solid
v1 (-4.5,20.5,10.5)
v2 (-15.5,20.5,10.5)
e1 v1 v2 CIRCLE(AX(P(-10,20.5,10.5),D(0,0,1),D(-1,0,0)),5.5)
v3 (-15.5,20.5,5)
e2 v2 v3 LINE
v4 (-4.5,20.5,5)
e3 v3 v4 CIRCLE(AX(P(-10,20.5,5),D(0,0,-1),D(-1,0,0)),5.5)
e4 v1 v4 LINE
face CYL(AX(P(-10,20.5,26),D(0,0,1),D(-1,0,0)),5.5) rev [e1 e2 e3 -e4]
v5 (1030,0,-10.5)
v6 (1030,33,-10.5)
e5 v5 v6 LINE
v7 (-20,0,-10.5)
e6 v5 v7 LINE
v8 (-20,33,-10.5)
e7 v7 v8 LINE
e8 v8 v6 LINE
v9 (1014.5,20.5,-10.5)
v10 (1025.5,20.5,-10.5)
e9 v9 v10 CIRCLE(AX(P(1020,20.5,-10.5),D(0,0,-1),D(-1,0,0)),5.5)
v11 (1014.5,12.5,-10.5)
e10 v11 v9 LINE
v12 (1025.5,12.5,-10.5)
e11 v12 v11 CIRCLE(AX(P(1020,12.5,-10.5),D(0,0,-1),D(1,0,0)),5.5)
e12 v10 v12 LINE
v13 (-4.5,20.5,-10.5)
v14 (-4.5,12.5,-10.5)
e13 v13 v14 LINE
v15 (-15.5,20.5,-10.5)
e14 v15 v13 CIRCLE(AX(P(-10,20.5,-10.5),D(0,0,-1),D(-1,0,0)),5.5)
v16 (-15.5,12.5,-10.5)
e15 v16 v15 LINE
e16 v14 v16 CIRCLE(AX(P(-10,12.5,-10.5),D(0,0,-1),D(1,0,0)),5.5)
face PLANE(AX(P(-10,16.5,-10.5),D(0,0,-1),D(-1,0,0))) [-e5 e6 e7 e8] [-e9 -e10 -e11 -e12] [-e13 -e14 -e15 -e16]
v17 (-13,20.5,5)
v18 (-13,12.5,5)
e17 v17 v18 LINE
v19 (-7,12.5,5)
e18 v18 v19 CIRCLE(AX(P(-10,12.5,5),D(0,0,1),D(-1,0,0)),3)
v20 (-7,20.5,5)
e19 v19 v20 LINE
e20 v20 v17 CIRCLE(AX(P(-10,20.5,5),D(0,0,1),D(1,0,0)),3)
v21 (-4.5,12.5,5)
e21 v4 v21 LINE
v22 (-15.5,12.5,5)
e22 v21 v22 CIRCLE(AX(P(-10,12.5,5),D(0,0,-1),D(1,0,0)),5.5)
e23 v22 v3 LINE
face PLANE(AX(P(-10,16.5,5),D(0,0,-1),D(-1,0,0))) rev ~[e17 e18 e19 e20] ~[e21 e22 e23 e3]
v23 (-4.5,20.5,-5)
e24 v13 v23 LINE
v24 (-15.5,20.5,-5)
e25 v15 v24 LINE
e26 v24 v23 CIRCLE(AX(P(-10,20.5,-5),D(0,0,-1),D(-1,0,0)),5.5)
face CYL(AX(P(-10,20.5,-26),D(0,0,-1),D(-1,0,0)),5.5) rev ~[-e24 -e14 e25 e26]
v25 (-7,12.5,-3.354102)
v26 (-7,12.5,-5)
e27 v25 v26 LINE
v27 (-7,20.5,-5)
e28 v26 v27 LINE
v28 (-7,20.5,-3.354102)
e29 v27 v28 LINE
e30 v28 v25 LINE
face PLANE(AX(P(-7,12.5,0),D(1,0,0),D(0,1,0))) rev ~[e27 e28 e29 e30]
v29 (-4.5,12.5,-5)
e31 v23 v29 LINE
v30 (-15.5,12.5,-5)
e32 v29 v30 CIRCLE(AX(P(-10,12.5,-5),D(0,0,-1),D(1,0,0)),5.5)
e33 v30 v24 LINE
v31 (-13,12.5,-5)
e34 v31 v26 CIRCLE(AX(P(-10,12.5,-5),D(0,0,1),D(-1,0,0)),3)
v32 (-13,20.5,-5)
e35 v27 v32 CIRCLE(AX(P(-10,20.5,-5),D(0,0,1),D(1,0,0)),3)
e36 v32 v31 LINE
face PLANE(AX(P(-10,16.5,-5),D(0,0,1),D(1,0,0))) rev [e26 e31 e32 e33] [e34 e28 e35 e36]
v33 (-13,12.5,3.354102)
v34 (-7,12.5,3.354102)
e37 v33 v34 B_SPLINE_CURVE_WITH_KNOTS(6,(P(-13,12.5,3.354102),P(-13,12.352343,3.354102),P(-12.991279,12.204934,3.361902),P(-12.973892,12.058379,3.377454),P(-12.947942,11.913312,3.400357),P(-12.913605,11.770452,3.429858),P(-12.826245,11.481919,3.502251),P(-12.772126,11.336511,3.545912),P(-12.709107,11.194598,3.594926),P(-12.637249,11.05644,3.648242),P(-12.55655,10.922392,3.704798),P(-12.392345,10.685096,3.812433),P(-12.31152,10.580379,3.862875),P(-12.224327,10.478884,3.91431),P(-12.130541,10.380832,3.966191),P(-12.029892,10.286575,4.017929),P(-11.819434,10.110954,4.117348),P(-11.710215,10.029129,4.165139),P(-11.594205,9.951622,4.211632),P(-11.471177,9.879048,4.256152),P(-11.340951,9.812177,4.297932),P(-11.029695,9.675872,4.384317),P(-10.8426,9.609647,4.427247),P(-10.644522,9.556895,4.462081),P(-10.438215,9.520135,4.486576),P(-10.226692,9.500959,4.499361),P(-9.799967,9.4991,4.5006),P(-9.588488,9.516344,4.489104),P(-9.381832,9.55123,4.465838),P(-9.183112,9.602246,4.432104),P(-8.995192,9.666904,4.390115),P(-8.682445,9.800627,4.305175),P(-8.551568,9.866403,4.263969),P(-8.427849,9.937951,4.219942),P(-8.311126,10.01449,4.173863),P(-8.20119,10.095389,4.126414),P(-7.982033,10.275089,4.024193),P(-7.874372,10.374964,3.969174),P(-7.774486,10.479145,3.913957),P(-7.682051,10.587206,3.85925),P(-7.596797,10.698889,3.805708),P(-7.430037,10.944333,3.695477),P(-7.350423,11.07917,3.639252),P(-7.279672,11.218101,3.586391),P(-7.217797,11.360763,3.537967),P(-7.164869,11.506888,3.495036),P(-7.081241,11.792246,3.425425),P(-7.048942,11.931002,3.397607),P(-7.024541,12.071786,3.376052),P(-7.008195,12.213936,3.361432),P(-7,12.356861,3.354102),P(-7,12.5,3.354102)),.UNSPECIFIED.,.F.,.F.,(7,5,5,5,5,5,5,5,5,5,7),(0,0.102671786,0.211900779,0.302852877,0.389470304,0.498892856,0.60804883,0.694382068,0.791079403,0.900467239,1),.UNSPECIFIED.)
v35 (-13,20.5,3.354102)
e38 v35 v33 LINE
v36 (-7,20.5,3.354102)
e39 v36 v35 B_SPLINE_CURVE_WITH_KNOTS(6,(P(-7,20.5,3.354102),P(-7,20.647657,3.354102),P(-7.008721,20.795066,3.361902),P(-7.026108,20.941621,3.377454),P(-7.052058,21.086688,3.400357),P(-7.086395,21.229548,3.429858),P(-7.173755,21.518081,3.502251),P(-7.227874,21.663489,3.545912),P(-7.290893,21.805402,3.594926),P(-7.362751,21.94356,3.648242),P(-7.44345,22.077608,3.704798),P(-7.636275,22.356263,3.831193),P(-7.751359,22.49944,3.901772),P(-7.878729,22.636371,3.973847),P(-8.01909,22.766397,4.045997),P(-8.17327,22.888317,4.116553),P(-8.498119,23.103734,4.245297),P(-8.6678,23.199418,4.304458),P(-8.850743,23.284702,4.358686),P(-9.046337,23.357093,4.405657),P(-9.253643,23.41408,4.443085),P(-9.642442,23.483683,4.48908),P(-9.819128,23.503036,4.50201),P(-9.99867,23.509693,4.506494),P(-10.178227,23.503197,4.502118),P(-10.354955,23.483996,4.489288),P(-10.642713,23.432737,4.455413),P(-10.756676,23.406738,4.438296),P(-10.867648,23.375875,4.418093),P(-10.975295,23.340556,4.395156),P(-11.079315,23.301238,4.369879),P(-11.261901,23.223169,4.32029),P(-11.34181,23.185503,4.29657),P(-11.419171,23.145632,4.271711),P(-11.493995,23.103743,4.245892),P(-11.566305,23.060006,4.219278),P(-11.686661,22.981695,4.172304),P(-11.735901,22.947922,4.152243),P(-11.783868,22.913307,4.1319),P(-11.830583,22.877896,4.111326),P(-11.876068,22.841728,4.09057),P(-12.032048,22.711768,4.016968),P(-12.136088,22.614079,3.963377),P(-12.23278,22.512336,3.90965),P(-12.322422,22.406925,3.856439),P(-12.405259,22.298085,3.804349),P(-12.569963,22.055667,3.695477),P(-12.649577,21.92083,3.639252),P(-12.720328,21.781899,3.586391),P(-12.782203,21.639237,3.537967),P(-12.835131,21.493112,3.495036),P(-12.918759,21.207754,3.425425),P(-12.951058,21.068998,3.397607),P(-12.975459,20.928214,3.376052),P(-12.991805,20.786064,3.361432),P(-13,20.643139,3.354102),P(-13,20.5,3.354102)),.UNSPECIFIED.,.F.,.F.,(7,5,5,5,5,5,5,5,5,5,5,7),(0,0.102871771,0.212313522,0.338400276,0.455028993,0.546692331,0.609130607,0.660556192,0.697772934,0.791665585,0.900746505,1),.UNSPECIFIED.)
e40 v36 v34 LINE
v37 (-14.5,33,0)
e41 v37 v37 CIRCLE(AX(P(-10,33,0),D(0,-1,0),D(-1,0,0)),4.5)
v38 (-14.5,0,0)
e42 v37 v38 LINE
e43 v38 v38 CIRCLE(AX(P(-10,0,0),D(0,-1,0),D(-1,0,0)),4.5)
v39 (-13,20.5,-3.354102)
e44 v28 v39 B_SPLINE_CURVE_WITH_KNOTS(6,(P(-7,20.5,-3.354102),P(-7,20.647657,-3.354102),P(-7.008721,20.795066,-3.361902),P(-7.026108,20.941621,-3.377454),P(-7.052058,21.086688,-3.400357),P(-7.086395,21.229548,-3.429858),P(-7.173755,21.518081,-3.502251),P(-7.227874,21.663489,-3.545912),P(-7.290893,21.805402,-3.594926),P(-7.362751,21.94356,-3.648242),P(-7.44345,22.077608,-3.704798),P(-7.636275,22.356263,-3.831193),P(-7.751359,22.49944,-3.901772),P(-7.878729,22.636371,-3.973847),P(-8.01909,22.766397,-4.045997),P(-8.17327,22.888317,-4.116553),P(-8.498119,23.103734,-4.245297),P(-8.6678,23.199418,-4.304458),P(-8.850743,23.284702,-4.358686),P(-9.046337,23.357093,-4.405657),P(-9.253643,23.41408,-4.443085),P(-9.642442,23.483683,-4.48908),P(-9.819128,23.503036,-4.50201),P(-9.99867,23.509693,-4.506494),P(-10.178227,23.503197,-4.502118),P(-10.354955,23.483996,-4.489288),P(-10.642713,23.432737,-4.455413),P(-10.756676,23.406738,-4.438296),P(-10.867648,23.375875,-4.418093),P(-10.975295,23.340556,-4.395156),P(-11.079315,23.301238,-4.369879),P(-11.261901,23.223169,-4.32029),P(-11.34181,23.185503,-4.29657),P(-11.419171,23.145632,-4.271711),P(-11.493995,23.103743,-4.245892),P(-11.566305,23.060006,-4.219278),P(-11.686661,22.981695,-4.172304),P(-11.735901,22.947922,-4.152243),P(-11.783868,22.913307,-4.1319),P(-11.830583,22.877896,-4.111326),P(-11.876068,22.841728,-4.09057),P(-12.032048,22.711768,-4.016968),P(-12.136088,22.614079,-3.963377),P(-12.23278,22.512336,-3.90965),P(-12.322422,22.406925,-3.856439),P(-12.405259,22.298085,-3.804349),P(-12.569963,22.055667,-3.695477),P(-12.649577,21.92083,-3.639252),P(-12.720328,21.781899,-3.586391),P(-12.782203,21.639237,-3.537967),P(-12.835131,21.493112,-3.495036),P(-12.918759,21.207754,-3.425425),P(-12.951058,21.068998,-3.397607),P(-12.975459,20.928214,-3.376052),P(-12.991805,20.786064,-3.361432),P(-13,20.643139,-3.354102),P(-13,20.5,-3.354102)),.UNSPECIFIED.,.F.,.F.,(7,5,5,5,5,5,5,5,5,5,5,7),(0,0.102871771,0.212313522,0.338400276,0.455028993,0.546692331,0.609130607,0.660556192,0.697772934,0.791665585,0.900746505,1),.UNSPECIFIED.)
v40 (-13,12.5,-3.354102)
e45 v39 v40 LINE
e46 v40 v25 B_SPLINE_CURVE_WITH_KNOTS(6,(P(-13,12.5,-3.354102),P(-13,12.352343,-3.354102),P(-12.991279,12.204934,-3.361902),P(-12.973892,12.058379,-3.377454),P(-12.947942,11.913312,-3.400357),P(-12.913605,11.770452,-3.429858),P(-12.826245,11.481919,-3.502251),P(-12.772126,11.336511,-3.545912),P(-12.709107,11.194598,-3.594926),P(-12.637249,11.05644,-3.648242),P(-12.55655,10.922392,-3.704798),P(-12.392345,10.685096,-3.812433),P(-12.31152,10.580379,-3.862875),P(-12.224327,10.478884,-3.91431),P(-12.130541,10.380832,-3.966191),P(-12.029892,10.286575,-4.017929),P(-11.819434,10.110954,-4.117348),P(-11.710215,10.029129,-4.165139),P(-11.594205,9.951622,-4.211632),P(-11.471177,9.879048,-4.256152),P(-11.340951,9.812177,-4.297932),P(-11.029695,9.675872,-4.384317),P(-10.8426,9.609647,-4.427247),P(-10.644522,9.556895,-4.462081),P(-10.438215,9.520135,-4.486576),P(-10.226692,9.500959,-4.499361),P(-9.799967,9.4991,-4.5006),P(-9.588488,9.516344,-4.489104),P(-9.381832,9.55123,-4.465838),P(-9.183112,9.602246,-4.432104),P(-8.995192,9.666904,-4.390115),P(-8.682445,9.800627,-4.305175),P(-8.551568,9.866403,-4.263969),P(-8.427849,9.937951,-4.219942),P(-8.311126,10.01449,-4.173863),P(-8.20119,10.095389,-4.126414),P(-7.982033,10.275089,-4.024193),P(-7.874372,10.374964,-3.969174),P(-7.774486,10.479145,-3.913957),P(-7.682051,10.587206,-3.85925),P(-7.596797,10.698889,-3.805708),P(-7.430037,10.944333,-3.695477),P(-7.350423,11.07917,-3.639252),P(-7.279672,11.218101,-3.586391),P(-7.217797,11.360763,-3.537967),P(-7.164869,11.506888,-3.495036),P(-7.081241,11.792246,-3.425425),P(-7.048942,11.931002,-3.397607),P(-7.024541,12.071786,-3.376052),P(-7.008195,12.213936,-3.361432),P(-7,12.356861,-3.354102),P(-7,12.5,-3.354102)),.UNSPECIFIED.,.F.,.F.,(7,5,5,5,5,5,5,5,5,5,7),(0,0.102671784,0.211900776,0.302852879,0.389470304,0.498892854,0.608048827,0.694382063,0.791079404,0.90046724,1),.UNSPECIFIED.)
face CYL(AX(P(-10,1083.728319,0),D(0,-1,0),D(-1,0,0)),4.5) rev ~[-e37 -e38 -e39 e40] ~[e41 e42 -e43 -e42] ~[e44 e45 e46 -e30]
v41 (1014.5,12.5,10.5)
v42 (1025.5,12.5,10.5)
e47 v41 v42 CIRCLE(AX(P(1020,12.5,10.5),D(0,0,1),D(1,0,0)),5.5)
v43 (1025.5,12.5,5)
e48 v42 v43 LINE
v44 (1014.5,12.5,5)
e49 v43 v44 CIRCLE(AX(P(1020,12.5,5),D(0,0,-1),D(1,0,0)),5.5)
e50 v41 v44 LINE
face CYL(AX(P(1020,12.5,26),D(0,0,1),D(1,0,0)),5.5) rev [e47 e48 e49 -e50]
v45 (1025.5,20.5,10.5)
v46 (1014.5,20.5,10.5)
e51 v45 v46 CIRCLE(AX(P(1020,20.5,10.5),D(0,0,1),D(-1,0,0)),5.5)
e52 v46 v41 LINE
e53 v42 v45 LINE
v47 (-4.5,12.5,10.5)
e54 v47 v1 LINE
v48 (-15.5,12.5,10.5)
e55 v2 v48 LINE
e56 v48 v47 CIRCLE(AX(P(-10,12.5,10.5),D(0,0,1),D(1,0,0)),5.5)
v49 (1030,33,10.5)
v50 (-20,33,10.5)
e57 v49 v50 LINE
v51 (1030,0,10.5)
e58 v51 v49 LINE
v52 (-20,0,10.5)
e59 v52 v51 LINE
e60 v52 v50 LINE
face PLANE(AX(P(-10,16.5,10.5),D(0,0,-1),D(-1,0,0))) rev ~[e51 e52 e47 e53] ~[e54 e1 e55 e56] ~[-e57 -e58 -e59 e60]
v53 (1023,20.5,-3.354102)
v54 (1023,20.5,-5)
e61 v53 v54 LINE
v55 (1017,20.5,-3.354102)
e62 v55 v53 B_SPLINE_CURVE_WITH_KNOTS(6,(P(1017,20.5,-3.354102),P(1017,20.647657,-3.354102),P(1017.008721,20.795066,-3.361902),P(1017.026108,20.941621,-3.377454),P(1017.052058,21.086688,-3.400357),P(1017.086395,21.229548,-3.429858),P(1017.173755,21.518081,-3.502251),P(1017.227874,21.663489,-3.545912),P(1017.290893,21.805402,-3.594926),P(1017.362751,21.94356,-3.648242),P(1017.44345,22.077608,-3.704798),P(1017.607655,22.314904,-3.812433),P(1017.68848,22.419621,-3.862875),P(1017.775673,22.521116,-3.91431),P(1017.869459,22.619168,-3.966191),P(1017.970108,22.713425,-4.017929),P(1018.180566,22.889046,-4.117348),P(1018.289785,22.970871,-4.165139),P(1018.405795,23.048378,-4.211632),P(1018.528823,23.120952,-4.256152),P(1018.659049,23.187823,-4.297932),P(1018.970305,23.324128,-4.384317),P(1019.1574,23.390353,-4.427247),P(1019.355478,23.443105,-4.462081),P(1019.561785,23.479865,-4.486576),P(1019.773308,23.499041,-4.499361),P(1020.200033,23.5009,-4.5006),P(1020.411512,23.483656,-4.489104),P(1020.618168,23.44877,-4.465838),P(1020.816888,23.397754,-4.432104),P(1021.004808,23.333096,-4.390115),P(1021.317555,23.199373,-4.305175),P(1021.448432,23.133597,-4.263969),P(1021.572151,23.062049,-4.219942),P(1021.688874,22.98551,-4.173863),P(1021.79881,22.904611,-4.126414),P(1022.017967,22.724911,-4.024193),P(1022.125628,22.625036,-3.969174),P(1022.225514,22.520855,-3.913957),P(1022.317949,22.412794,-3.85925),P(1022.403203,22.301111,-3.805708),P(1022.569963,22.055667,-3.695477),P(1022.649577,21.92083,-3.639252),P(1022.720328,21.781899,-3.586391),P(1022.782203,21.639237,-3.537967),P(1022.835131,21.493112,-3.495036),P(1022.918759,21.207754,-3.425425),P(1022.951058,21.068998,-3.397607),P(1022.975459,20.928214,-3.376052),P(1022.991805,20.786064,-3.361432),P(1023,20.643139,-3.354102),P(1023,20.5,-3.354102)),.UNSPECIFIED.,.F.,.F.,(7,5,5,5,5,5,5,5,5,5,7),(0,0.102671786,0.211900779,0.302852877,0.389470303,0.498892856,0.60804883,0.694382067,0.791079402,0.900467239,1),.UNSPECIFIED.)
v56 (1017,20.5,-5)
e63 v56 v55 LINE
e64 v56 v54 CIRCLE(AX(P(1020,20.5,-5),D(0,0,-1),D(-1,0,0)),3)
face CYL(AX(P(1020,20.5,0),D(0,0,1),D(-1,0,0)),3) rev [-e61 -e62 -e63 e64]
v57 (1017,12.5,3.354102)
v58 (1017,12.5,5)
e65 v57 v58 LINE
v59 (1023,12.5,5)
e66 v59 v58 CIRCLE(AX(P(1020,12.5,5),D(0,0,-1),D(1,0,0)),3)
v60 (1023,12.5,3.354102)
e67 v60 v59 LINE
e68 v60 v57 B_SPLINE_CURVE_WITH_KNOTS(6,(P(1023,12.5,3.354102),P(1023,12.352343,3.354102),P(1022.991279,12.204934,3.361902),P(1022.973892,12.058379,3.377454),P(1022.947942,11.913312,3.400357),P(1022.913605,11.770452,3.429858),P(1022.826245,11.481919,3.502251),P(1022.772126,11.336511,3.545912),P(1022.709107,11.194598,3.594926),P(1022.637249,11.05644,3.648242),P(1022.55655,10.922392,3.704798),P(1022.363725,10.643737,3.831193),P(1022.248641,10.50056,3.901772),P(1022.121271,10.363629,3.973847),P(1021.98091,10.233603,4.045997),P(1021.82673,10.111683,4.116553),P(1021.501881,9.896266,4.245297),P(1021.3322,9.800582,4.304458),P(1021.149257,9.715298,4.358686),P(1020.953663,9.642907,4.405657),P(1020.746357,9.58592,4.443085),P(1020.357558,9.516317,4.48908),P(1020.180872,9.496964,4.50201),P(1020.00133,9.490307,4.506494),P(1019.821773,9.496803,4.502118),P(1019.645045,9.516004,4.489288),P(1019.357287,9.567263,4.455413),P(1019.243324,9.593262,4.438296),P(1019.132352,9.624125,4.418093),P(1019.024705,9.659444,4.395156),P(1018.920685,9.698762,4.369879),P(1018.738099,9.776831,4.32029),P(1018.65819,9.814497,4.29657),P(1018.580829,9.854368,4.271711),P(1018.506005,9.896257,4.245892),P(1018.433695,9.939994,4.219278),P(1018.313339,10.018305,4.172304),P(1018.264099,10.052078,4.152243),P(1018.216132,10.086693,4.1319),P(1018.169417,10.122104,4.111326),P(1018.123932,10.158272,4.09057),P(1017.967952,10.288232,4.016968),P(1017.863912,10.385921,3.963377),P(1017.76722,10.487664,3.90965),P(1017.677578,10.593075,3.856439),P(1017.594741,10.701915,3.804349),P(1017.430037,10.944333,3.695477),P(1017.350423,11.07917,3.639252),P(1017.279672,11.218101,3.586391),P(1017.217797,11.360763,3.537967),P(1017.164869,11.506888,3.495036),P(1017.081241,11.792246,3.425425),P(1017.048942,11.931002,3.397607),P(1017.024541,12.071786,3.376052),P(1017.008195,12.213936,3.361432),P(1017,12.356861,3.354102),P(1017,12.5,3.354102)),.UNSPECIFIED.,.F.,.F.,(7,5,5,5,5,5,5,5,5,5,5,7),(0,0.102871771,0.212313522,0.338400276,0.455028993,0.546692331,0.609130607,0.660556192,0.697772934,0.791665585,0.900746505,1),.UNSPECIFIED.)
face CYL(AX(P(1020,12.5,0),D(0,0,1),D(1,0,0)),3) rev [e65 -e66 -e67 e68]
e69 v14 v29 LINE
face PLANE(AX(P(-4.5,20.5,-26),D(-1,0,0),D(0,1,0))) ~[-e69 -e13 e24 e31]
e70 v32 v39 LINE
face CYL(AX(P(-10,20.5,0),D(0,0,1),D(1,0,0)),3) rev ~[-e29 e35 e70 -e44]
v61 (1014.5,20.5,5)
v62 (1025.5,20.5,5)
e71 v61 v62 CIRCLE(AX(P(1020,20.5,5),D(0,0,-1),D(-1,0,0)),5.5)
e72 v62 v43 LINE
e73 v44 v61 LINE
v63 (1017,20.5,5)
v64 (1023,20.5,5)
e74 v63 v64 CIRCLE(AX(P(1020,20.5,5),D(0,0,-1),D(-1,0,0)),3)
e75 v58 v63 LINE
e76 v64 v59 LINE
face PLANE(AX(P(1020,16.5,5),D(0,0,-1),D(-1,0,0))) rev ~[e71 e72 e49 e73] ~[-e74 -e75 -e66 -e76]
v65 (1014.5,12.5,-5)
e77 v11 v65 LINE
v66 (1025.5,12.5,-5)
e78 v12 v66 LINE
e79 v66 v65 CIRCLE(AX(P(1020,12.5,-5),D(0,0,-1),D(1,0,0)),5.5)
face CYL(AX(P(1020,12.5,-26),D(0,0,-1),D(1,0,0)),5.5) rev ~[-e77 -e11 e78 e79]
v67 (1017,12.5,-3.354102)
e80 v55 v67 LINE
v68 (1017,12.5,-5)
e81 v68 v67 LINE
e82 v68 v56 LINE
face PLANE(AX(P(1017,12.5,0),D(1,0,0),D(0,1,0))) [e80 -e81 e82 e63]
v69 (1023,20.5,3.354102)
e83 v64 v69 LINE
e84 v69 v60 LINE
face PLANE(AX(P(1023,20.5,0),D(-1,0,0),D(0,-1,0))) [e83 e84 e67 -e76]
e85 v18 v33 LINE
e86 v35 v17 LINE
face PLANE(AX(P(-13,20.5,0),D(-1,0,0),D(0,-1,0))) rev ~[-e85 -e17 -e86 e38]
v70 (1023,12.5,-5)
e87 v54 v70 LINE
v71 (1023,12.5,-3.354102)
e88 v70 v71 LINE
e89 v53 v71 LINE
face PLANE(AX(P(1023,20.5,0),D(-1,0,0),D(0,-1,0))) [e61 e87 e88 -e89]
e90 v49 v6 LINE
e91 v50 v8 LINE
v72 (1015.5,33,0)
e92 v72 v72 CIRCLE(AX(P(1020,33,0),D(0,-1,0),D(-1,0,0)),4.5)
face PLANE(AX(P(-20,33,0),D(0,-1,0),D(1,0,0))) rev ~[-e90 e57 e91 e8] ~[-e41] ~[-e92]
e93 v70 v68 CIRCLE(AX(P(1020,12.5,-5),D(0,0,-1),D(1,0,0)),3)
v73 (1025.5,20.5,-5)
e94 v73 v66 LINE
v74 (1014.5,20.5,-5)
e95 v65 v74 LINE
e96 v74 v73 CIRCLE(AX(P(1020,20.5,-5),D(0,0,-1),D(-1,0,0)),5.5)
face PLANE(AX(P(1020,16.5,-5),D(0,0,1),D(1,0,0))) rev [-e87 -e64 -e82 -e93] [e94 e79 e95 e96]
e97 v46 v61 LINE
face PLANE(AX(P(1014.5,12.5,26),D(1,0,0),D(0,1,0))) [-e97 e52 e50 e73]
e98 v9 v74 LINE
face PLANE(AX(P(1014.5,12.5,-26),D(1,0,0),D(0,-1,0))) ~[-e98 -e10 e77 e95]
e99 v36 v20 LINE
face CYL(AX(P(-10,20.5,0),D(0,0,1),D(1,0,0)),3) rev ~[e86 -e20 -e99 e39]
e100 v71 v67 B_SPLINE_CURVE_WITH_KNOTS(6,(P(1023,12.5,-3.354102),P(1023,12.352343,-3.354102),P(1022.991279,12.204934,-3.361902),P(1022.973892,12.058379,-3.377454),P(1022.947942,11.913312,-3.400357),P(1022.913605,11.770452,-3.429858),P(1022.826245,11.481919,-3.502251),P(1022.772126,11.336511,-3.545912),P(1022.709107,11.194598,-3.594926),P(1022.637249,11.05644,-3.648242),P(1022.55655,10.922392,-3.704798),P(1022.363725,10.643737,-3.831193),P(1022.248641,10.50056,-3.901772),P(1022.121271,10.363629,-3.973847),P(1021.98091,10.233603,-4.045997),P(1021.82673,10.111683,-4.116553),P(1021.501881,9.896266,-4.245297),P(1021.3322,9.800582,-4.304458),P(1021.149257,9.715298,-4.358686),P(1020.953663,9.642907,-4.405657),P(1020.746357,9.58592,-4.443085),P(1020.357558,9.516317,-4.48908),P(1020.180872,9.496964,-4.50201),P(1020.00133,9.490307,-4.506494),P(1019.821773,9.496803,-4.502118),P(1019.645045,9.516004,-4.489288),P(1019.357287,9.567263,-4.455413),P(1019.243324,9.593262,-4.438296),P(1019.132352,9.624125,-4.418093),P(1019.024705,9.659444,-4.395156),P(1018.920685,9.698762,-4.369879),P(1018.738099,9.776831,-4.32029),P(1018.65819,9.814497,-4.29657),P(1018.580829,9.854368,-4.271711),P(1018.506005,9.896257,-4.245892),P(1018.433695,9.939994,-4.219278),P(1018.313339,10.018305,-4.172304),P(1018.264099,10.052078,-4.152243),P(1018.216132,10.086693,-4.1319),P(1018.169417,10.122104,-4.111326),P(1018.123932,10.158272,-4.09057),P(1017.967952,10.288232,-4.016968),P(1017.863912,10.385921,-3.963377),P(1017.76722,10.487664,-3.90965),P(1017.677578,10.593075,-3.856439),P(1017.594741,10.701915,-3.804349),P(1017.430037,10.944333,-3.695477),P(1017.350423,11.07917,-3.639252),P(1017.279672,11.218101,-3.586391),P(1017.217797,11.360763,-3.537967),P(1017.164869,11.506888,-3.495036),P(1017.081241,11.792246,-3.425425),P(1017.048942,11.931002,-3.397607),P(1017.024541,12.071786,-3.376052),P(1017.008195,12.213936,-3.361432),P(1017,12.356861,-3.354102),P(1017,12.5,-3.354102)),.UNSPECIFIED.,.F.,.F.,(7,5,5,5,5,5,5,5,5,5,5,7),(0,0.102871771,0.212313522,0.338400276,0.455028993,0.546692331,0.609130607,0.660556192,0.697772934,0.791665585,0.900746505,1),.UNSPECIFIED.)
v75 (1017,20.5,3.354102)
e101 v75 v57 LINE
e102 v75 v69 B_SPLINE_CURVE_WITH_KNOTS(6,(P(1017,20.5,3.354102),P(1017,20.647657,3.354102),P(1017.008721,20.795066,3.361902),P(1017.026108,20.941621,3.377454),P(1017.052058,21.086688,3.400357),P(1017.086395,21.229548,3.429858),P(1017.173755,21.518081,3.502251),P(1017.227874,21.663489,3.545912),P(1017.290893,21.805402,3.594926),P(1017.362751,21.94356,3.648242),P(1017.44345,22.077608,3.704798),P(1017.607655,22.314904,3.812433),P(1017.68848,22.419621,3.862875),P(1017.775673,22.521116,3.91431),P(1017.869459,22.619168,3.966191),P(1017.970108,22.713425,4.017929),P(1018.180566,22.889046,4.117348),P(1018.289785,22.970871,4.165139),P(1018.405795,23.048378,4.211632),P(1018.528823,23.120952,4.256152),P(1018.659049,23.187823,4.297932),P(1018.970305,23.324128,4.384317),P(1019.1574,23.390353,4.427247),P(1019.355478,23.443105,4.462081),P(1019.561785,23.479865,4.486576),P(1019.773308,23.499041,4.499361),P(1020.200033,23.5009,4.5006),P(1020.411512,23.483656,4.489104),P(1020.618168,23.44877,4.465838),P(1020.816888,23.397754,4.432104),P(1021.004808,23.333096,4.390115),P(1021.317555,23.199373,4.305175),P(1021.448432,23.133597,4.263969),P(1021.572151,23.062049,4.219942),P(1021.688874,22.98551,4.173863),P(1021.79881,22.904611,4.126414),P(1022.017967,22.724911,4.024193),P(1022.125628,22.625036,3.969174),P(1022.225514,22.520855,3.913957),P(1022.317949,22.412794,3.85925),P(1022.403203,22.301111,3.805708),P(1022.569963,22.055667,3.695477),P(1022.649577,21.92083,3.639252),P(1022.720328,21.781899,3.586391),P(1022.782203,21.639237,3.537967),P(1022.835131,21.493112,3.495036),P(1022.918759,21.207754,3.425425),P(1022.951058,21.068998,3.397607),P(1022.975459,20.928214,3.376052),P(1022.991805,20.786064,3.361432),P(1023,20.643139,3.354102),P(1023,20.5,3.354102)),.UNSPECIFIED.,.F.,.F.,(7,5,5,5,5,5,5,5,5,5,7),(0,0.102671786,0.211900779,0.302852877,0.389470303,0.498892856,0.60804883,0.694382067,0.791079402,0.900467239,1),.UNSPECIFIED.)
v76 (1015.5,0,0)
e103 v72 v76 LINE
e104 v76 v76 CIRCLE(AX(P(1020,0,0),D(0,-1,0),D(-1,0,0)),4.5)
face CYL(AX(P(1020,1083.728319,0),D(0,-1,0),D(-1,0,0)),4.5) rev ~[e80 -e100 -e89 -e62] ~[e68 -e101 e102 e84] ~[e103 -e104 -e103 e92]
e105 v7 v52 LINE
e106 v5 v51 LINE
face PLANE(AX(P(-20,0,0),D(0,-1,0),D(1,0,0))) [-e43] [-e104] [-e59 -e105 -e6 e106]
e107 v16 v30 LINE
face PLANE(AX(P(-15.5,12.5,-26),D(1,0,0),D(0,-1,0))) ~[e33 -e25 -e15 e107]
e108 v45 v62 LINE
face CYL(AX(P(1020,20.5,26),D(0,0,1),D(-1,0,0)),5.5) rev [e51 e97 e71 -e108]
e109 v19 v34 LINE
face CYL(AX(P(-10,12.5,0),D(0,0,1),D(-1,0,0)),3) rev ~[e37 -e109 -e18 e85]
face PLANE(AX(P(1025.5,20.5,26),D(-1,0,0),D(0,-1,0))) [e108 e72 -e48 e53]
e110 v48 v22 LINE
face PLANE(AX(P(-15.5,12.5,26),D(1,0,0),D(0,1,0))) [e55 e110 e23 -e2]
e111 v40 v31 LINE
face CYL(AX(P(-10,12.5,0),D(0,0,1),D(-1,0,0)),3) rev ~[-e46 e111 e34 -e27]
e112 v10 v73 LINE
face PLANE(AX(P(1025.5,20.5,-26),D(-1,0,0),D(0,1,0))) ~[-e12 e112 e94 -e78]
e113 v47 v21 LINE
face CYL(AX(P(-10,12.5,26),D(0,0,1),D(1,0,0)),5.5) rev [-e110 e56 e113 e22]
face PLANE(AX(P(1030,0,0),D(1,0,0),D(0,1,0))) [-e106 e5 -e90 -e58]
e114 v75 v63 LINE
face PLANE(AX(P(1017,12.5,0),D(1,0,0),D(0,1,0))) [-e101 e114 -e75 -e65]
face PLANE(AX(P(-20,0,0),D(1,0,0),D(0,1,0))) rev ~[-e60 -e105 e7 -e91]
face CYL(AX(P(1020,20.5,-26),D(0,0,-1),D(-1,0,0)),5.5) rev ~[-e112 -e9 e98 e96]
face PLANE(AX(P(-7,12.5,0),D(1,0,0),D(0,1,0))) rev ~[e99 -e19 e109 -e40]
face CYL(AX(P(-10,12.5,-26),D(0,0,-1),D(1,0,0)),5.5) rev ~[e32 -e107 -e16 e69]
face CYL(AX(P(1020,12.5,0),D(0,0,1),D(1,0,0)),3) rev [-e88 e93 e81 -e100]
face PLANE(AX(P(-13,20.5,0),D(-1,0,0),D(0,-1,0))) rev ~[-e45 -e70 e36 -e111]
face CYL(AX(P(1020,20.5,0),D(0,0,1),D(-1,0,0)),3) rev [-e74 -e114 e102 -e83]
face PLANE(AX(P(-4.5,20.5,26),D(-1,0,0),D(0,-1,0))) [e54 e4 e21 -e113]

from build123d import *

# Parameters (mm, degrees)
SKETCH1_W                = 1050
SKETCH1_H                = 33
BOSS_EXTRUDE1_DEPTH      = 10.5
CUT_EXTRUDE1_START       = 26
CUT_EXTRUDE1_DEPTH       = 21
F_9_0_9_DIAMETER_HOLE1_D = 9


with BuildPart() as part:
    # Sketch1 → Boss-Extrude1 (new, symmetric)
    with BuildSketch(Plane.XY):
        with Locations((505, 16.5)):
            Rectangle(SKETCH1_W, SKETCH1_H)
        with BuildLine():
            Line((-7, 20.5), (-7, 12.5))
            ThreePointArc((-7, 12.5), (-10, 9.5), (-13, 12.5))
            Line((-13, 12.5), (-13, 20.5))
            ThreePointArc((-13, 20.5), (-10, 23.5), (-7, 20.5))
        make_face(mode=Mode.SUBTRACT)
        with BuildLine():
            ThreePointArc((1017, 20.5), (1020, 23.5), (1023, 20.5))
            Line((1023, 20.5), (1023, 12.5))
            ThreePointArc((1023, 12.5), (1020, 9.5), (1017, 12.5))
            Line((1017, 12.5), (1017, 20.5))
        make_face(mode=Mode.SUBTRACT)
    extrude(amount=BOSS_EXTRUDE1_DEPTH, both=True)

    # Sketch1<3> → Cut-Extrude1 (cut)
    # profile 1 of 2: a face of its own
    with BuildSketch(Plane.XY.offset(CUT_EXTRUDE1_START)):
        with BuildLine():
            Line((-4.5, 12.5), (-4.5, 20.5))
            ThreePointArc((-4.5, 20.5), (-10, 26), (-15.5, 20.5))
            Line((-15.5, 20.5), (-15.5, 12.5))
            ThreePointArc((-15.5, 12.5), (-10, 7), (-4.5, 12.5))
        make_face()
        with BuildLine():
            ThreePointArc((-13, 20.5), (-10, 23.5), (-7, 20.5))
            Line((-7, 20.5), (-7, 12.5))
            ThreePointArc((-7, 12.5), (-10, 9.5), (-13, 12.5))
            Line((-13, 12.5), (-13, 20.5))
        make_face(mode=Mode.SUBTRACT)
    # profile 2 of 2: a face of its own
    with BuildSketch(Plane.XY.offset(CUT_EXTRUDE1_START)):
        with BuildLine():
            Line((1025.5, 12.5), (1025.5, 20.5))
            ThreePointArc((1025.5, 20.5), (1020, 26), (1014.5, 20.5))
            Line((1014.5, 20.5), (1014.5, 12.5))
            ThreePointArc((1014.5, 12.5), (1020, 7), (1025.5, 12.5))
        make_face()
        with BuildLine():
            Line((1017, 12.5), (1017, 20.5))
            ThreePointArc((1017, 20.5), (1020, 23.5), (1023, 20.5))
            Line((1023, 20.5), (1023, 12.5))
            ThreePointArc((1023, 12.5), (1020, 9.5), (1017, 12.5))
        make_face(mode=Mode.SUBTRACT)
    cut_extrude1 = extrude(amount=-CUT_EXTRUDE1_DEPTH, mode=Mode.SUBTRACT)

    # Mirror1: Cut-Extrude1 across plane
    add(cut_extrude1.mirror(Plane.XY), mode=Mode.SUBTRACT)

    # Ø9.0 (9) Diameter Hole1 (through all)
    with Locations(Plane(origin=(0, 33, 0), x_dir=(1, 0, 0), z_dir=(0, 1, 0))):
        with Locations((-10, 0), (1020, 0)):
            Hole(F_9_0_9_DIAMETER_HOLE1_D / 2)


solid = part.part
